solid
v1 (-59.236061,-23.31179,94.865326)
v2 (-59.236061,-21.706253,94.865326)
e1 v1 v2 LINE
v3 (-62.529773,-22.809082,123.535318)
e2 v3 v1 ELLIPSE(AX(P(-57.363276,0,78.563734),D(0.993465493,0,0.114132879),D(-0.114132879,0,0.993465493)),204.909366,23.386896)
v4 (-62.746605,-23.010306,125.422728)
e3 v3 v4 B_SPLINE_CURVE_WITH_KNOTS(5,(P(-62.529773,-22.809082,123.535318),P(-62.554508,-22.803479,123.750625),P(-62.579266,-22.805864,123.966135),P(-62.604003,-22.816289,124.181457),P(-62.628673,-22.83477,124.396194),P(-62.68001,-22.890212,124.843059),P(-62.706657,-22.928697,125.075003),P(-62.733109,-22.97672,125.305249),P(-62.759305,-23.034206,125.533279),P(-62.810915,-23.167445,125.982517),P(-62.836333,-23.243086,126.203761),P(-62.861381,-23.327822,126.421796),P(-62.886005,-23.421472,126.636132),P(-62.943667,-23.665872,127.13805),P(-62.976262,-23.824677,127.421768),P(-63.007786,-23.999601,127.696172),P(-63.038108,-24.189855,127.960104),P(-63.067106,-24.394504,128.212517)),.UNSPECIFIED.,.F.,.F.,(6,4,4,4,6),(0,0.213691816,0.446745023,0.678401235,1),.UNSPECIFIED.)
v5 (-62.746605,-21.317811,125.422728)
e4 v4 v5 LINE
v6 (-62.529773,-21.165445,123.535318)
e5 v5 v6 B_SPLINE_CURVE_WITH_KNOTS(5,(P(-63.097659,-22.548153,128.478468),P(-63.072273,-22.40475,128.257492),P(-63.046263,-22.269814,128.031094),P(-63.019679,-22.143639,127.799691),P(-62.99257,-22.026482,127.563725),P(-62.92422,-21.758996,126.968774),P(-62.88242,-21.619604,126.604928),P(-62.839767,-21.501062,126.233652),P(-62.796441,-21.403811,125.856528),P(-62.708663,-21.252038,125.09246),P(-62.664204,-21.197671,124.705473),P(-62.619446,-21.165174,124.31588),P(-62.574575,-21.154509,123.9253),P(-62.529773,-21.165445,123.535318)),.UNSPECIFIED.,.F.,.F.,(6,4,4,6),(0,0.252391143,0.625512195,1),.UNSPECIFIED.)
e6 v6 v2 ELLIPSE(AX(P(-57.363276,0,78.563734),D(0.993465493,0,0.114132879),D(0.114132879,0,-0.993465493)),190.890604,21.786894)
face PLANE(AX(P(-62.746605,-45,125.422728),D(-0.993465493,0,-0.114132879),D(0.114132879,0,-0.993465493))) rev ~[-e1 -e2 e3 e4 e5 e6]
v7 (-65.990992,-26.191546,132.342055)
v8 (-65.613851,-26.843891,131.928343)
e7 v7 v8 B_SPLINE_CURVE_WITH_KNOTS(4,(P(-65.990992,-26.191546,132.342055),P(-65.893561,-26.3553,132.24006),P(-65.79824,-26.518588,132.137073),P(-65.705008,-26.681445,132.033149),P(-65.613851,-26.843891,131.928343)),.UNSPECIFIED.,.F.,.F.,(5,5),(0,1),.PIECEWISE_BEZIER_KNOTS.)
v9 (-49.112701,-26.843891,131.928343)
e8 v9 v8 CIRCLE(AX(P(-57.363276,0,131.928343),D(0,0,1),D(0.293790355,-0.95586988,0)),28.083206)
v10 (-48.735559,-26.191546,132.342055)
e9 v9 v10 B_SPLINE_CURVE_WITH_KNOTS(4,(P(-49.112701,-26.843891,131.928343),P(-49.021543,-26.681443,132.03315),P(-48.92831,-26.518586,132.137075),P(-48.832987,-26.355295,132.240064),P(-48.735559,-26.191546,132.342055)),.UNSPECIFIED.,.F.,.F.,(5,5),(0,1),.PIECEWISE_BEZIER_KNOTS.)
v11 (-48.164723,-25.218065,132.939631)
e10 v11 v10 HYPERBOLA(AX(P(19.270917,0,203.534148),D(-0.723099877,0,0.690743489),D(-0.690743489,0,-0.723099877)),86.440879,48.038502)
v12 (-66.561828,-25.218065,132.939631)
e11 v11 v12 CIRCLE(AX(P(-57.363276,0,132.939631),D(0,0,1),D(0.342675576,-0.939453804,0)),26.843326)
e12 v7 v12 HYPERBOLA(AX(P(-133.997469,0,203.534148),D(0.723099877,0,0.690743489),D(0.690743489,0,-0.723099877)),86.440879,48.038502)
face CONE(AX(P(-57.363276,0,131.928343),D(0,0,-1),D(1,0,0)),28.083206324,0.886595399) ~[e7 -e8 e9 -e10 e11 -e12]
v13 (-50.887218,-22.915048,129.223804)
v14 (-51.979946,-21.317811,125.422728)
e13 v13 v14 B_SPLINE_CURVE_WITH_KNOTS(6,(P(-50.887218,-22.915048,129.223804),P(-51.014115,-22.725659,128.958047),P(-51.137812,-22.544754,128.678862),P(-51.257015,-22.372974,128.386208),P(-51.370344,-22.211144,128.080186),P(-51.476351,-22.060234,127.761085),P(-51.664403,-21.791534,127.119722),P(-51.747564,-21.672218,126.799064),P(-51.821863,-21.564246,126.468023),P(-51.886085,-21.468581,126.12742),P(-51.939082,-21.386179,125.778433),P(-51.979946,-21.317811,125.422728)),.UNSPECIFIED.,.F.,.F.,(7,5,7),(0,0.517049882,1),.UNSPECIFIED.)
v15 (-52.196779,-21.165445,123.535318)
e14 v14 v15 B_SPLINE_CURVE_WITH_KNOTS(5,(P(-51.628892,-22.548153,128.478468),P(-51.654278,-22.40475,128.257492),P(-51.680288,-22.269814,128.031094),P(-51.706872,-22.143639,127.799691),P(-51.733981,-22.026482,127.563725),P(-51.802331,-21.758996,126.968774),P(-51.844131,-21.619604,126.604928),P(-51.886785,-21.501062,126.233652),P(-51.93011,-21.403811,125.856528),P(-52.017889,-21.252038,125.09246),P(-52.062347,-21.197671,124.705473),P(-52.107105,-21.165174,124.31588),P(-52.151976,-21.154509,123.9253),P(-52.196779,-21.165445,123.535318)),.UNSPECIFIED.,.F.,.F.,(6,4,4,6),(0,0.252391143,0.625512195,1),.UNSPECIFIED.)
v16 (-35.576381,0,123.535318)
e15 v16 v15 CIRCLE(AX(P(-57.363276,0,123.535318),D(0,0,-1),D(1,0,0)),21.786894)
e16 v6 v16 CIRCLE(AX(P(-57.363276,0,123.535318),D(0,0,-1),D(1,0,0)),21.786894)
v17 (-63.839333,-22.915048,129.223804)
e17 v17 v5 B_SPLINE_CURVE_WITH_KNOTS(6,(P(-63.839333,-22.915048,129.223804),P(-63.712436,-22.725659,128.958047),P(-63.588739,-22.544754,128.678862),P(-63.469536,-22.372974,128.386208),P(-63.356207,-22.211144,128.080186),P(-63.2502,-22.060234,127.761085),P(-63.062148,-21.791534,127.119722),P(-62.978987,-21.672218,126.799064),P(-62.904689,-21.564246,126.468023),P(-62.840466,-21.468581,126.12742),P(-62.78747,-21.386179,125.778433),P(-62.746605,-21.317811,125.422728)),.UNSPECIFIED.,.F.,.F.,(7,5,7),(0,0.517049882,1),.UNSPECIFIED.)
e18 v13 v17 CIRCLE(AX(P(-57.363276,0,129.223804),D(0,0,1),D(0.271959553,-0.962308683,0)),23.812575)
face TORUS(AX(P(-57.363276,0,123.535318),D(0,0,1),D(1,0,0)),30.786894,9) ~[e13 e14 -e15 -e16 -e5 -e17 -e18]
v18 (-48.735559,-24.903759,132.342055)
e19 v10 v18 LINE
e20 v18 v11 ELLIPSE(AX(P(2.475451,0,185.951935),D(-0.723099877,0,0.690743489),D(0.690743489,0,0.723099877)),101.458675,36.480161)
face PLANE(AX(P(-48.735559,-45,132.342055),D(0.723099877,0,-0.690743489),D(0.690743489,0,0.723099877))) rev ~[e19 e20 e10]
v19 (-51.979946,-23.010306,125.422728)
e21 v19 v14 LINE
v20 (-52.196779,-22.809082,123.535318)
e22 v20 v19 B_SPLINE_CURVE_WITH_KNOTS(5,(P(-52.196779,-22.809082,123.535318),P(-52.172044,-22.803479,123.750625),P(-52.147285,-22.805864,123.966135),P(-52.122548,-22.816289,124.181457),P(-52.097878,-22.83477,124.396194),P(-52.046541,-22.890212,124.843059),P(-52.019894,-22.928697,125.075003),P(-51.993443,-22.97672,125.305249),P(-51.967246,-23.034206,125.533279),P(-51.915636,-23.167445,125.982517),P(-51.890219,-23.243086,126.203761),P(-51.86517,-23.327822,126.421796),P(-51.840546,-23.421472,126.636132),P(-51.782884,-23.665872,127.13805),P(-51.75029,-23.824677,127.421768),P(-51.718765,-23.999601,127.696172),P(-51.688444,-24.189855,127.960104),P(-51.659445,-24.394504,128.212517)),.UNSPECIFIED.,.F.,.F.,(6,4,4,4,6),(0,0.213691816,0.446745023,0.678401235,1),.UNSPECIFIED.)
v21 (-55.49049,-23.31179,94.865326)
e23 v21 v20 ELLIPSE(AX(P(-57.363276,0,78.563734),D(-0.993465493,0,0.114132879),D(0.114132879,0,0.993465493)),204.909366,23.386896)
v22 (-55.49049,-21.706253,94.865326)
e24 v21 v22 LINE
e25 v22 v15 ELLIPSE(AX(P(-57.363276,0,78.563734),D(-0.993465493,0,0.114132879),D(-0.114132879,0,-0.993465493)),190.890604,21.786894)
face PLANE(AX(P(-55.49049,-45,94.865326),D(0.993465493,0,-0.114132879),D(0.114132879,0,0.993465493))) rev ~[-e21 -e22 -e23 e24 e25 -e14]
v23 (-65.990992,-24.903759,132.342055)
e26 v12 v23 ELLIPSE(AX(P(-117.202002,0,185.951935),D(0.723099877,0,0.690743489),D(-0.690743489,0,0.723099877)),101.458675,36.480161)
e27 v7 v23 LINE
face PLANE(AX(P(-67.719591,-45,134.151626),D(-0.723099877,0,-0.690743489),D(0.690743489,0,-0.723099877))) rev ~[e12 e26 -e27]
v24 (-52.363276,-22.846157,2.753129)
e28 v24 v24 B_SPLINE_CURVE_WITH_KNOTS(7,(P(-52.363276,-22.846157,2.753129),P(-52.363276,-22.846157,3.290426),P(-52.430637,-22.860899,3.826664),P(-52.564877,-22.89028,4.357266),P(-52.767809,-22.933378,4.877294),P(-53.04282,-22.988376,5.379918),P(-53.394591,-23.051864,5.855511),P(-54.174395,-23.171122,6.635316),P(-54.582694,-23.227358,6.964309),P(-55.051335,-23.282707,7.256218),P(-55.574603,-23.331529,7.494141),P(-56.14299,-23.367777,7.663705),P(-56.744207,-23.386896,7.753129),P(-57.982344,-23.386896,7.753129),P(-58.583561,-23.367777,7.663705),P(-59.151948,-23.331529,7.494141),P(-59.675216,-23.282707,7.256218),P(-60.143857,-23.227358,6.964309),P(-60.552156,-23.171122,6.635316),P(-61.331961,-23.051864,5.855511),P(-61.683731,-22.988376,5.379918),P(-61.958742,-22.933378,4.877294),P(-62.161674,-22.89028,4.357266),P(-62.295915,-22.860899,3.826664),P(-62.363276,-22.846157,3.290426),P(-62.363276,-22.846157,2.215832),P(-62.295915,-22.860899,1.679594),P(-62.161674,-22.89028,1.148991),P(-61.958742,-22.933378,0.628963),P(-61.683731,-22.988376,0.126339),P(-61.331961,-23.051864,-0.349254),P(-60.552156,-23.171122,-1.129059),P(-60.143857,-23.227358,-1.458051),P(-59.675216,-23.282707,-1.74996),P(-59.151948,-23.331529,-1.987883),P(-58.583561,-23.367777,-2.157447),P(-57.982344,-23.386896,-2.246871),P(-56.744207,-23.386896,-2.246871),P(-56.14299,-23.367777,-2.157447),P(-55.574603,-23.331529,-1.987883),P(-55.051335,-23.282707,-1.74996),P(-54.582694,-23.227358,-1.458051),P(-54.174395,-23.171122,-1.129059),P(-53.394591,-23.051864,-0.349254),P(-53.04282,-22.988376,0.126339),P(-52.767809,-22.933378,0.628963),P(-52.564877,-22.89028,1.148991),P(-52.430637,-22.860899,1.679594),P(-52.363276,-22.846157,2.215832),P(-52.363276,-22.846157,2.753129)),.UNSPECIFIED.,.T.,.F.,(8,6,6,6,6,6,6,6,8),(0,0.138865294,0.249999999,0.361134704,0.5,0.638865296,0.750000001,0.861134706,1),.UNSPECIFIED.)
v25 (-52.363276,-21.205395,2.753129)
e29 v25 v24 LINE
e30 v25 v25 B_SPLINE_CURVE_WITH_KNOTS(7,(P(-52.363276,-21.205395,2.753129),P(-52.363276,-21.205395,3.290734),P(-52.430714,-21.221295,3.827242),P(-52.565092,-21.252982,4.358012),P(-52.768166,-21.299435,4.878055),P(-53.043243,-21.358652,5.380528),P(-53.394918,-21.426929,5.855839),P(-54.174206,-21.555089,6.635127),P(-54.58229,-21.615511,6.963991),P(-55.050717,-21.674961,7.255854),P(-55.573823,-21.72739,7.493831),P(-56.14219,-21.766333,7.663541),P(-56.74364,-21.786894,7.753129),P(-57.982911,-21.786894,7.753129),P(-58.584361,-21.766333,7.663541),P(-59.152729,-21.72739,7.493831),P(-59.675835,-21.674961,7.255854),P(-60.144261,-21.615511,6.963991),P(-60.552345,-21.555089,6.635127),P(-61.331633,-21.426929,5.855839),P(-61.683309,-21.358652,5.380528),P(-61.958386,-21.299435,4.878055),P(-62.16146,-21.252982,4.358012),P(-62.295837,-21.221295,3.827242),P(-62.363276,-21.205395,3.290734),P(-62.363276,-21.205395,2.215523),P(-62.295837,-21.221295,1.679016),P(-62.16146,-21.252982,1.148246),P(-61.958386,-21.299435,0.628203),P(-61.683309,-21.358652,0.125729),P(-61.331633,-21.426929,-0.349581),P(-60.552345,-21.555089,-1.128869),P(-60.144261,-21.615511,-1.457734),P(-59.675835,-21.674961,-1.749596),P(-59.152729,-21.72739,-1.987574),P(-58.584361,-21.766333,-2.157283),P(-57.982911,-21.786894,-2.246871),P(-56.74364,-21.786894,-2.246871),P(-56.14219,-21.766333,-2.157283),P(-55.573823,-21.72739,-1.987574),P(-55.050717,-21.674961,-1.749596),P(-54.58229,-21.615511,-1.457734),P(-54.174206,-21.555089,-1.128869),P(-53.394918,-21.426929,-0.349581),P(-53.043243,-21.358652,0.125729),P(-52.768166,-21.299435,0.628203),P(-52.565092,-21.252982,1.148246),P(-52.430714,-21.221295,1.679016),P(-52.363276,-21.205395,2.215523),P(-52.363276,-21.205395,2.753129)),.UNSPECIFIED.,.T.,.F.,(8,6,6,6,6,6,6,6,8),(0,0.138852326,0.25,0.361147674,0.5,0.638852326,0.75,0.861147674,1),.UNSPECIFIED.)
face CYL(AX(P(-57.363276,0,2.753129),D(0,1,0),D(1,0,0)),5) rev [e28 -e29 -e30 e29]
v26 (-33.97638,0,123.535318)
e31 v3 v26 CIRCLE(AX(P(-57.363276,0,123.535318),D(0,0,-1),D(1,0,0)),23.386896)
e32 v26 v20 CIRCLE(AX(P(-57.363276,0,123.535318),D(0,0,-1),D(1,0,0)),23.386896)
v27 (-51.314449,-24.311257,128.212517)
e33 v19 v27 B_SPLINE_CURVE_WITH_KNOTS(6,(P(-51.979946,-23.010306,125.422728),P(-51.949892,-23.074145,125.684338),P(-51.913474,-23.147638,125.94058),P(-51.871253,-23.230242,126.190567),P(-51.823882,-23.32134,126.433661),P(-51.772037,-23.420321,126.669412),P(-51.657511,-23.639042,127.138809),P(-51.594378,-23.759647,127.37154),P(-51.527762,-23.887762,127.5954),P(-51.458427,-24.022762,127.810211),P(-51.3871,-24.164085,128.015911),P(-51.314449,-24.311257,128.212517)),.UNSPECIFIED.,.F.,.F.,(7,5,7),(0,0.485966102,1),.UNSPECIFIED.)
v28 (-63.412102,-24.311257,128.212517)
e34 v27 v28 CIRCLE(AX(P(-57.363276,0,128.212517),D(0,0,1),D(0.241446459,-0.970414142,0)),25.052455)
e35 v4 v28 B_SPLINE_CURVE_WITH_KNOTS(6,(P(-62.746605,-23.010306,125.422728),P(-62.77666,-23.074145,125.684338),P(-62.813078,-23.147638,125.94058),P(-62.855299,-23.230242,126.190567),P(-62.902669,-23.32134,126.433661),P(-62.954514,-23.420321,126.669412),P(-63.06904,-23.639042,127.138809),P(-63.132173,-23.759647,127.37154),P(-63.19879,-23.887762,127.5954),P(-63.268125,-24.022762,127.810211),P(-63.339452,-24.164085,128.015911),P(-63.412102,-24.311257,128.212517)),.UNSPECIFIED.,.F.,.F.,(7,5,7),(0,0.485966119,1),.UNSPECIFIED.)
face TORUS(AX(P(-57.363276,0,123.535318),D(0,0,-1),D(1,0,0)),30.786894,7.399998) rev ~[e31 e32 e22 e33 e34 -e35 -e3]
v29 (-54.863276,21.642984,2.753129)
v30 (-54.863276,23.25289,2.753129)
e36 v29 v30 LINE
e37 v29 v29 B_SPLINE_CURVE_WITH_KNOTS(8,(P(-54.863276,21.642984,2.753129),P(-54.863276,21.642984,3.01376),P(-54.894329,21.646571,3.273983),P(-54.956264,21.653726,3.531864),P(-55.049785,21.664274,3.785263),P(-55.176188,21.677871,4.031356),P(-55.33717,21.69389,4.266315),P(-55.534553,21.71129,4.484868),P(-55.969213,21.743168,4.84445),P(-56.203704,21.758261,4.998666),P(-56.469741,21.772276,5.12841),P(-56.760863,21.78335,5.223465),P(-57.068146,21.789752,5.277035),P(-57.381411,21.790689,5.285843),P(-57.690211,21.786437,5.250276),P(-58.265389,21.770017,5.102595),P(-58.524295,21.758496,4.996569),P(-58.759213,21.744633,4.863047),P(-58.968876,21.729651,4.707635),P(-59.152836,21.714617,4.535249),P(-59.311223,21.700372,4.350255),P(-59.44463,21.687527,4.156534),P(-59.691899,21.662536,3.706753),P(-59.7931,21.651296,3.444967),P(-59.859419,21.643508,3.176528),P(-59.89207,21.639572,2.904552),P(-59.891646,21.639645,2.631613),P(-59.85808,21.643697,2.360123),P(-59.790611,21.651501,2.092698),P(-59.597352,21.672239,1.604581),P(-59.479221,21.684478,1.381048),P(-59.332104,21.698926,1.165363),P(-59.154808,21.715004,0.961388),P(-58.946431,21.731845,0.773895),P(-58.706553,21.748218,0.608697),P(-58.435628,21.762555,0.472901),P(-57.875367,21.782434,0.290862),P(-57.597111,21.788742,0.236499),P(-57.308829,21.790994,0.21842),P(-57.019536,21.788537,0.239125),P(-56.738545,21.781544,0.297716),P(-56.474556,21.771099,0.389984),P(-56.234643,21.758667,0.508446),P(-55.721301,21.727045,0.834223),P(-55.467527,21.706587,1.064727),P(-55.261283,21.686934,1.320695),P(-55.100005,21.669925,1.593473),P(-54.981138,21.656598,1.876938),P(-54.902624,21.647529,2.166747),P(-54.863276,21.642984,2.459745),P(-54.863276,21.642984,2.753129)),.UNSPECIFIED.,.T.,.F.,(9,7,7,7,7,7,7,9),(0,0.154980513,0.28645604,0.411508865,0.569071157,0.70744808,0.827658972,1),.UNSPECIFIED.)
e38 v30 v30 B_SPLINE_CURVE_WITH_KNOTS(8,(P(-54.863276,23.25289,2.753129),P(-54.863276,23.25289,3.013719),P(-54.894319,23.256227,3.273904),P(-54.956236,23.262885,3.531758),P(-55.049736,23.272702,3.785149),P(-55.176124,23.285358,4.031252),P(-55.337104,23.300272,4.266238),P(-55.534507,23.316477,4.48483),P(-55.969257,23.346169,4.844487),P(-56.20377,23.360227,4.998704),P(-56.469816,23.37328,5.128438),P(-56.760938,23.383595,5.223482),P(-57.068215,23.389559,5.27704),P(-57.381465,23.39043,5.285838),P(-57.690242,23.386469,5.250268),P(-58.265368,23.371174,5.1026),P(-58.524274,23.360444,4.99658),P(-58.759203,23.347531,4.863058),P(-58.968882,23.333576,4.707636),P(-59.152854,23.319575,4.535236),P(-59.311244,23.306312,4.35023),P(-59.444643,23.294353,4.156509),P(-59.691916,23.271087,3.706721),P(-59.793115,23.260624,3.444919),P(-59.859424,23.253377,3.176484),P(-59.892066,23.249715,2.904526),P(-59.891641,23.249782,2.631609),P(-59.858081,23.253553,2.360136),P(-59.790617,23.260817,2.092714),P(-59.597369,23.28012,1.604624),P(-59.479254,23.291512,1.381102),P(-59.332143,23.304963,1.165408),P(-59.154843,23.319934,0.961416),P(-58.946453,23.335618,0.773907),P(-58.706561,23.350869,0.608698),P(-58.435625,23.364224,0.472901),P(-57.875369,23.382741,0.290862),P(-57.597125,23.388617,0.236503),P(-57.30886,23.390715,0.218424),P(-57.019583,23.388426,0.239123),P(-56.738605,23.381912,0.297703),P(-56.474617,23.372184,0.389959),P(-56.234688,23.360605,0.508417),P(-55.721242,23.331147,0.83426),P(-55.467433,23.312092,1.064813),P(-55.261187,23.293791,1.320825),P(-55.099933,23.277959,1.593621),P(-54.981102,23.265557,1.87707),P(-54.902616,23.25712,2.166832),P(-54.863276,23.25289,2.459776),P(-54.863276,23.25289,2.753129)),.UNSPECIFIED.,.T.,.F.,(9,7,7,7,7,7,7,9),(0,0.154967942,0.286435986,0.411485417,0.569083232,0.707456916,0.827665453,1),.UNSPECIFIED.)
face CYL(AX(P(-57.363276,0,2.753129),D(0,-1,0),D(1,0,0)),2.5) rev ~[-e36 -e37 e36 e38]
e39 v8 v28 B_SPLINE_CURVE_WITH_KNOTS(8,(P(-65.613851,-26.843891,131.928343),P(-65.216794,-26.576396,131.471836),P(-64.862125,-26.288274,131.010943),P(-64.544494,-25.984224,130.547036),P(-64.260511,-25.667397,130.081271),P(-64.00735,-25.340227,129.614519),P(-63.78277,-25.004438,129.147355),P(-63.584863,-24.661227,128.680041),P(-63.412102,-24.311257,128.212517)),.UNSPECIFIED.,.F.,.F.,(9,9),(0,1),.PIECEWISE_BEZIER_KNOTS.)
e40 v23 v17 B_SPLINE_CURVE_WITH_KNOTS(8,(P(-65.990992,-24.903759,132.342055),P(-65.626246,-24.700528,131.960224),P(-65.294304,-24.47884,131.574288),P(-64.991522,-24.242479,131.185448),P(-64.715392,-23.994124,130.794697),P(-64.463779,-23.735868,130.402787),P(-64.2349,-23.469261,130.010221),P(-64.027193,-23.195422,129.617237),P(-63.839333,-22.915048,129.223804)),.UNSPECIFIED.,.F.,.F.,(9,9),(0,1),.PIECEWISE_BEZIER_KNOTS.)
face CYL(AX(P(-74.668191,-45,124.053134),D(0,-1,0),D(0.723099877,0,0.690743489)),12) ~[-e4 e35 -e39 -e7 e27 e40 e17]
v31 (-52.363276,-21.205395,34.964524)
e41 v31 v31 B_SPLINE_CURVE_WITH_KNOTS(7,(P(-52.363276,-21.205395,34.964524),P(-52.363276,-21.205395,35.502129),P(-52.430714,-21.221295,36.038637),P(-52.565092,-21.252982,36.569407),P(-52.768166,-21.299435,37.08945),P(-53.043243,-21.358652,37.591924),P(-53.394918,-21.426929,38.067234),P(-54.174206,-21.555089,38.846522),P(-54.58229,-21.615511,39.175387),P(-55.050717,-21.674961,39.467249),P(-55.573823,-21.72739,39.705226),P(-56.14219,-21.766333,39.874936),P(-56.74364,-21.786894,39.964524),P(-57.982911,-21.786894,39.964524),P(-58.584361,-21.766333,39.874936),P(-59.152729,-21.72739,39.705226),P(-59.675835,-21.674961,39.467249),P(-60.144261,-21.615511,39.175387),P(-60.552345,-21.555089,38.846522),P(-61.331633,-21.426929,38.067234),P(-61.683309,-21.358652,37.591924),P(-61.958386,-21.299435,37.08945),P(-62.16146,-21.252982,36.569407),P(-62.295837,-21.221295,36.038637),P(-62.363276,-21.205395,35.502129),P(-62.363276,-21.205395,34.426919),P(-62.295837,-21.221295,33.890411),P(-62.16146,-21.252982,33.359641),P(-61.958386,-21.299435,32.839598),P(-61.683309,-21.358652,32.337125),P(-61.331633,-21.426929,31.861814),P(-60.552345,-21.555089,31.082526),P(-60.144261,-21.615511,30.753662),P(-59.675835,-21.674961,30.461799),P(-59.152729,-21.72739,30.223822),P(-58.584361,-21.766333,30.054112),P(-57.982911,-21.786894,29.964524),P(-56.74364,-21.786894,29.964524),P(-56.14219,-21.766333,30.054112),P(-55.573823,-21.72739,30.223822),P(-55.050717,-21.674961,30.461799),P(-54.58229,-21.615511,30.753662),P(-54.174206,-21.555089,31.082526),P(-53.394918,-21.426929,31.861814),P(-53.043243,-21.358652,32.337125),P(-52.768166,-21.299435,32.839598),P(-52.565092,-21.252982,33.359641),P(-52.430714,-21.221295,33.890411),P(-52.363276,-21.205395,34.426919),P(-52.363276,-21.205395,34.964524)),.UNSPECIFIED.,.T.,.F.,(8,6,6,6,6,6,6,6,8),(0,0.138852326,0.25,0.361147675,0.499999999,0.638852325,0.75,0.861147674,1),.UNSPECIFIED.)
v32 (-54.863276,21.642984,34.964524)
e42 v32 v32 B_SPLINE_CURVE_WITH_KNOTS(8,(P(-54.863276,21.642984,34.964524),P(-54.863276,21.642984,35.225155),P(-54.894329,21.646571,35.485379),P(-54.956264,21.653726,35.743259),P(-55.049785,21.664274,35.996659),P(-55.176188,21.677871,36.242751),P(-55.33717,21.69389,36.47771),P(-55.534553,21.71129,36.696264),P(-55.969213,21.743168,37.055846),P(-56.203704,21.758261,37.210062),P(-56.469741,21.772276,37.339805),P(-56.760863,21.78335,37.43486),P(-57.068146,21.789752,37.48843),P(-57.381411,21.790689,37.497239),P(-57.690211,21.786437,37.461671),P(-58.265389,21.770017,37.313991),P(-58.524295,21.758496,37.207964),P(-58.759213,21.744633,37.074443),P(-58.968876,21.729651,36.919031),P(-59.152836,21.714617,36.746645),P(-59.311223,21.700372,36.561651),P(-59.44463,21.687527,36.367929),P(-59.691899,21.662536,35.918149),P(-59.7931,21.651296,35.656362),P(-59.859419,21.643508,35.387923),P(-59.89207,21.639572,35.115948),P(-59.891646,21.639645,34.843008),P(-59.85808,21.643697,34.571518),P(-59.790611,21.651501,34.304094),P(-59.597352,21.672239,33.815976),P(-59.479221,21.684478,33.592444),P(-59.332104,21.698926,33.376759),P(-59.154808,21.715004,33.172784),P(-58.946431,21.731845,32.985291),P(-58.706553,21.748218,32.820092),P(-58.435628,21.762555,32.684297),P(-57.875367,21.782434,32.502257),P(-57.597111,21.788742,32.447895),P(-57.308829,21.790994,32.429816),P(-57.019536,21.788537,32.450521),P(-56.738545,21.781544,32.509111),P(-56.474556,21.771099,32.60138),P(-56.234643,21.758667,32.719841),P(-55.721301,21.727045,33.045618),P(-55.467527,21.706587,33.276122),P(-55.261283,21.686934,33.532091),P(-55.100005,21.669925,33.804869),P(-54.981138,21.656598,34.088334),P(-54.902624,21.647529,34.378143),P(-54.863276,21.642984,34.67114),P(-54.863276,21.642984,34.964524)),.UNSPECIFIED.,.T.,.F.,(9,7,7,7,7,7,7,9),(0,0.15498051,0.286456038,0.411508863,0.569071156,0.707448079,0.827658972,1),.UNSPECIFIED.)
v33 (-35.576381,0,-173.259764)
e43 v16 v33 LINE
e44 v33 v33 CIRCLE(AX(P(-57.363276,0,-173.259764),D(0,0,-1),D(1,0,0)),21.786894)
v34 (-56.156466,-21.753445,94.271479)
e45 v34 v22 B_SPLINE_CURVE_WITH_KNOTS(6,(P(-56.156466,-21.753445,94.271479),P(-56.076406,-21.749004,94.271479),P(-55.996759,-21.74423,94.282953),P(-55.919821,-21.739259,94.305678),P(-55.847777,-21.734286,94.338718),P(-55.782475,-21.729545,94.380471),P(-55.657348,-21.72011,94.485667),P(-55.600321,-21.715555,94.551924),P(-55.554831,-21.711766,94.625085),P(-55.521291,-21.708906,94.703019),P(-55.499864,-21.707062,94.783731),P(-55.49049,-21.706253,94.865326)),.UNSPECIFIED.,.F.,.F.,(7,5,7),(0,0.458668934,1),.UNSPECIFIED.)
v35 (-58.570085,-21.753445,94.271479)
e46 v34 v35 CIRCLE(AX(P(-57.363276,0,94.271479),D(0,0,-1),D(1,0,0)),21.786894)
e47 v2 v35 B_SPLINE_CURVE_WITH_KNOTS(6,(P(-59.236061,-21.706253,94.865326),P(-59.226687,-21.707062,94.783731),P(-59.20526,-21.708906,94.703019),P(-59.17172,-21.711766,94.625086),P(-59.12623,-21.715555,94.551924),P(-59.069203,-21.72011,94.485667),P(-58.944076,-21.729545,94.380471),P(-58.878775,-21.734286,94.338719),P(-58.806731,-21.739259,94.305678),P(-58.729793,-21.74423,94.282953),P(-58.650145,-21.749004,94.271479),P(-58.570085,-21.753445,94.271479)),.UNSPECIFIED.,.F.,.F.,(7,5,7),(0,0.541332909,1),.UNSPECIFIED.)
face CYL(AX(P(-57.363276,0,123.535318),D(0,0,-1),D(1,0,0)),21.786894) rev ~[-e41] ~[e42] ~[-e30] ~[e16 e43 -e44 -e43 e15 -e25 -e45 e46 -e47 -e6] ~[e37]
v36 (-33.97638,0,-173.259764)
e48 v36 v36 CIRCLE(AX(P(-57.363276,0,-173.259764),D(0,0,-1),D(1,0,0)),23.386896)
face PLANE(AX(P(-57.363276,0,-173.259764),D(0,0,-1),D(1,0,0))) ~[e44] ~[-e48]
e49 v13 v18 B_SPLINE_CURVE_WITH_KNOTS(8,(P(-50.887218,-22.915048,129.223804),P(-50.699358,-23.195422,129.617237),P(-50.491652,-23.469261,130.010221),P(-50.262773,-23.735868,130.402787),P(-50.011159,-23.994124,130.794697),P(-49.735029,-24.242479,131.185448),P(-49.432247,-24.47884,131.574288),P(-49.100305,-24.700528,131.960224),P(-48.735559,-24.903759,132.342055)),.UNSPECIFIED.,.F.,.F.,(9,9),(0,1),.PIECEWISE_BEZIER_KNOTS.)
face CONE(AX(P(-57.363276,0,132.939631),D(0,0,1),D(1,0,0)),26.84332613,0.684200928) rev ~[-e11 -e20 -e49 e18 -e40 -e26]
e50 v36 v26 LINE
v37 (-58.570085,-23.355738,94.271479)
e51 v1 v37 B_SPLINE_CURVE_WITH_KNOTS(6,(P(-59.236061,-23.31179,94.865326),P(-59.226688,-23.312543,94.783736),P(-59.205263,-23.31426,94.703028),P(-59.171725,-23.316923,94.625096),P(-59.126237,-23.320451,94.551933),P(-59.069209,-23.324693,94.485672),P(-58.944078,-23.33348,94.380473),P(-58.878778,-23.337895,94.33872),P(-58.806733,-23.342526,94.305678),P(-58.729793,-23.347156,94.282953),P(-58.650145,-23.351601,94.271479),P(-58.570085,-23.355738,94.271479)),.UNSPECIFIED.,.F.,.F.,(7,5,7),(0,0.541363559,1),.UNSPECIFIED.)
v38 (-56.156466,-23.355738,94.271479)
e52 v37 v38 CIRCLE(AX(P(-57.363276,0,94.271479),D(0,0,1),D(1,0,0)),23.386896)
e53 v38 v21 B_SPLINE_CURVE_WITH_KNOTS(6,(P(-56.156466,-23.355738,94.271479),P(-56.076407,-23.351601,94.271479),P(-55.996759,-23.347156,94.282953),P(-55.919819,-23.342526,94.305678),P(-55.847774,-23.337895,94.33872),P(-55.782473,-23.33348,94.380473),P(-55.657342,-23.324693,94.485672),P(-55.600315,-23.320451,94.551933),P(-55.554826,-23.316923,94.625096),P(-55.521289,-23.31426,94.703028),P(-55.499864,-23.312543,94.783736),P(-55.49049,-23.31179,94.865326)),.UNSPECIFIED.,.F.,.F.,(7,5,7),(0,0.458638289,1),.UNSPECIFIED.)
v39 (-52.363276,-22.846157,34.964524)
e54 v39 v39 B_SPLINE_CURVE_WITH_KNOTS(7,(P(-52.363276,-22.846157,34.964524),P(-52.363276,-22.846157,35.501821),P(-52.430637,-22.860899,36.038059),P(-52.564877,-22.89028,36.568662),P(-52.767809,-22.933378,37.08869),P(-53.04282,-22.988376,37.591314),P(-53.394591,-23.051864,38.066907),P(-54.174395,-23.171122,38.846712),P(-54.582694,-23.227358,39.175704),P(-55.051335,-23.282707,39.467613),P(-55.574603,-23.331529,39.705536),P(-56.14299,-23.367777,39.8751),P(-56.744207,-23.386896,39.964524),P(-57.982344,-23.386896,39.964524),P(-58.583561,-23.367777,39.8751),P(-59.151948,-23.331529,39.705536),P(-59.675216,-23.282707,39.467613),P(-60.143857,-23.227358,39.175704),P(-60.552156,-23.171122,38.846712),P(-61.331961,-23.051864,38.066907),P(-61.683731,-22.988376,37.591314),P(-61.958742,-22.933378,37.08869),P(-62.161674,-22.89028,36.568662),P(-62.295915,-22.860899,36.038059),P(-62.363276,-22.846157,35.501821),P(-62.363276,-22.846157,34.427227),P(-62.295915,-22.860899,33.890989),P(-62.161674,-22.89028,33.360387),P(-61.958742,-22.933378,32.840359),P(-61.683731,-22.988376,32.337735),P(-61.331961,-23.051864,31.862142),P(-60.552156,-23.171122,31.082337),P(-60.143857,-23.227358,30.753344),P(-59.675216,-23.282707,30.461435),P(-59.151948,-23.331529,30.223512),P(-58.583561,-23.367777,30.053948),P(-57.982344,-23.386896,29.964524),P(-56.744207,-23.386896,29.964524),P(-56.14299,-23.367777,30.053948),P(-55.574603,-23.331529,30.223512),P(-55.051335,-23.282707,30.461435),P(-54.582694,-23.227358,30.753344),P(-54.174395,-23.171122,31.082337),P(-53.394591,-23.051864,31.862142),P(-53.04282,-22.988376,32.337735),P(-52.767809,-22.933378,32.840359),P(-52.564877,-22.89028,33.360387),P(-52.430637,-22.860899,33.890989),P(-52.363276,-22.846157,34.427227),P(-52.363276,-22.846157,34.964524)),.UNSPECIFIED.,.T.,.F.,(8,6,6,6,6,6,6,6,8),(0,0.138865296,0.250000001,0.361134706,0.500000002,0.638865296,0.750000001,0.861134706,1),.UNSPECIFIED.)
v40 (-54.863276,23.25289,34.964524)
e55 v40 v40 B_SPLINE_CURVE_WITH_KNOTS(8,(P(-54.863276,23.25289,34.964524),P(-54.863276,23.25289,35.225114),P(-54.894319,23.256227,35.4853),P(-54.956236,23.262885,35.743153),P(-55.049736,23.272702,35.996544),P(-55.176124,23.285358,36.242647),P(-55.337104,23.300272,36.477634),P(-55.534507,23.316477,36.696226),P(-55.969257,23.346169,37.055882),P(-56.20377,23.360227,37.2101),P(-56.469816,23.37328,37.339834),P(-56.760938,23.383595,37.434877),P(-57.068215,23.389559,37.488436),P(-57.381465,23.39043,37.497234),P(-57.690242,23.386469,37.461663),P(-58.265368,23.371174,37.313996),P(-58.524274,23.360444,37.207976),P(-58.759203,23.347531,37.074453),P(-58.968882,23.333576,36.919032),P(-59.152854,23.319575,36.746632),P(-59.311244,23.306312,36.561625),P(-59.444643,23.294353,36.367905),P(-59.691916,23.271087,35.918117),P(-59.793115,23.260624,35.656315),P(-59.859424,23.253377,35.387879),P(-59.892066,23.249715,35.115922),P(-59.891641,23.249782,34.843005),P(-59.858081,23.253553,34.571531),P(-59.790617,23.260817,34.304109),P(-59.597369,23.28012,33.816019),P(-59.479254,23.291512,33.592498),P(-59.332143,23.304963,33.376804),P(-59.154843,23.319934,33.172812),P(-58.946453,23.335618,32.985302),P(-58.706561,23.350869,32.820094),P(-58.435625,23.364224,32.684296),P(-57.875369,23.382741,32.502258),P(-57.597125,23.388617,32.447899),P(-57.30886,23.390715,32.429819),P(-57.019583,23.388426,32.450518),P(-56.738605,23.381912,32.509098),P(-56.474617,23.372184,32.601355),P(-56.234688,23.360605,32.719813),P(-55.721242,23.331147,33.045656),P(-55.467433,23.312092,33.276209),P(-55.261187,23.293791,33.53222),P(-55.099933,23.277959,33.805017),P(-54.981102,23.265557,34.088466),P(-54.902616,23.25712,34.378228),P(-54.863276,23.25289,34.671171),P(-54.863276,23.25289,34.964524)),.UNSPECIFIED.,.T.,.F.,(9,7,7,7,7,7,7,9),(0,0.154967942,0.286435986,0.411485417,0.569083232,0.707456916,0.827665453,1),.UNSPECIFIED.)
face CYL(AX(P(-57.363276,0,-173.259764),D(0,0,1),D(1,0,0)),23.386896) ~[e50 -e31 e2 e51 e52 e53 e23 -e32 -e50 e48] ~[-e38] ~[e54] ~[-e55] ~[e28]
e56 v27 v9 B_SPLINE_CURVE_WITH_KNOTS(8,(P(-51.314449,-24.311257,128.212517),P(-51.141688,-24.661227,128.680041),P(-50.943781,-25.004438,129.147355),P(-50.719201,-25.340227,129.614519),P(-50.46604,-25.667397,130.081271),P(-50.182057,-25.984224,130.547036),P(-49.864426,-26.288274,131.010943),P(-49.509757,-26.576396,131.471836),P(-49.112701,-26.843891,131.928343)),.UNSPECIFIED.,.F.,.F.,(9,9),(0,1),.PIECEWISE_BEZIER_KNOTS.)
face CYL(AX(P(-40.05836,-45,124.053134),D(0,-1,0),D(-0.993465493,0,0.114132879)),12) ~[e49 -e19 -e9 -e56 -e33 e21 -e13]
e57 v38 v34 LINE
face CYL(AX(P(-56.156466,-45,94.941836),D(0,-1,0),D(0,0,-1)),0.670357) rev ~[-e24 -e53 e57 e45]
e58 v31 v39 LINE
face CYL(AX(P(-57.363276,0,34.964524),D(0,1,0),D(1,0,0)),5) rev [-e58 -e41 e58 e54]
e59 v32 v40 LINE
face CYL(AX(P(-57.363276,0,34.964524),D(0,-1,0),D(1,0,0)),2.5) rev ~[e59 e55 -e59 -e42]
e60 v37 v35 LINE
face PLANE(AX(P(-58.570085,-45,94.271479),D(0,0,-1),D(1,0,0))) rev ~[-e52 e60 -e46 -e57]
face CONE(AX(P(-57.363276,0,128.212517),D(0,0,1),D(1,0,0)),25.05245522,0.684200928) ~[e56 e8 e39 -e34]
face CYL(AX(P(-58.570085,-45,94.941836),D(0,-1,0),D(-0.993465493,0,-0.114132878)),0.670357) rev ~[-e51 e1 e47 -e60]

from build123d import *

# Parameters (mm, degrees)
F1_DEPTH      = 45
F3_DEPTH      = 47.5
F0_R          = 5
F0_R_2        = 2.5
F4_DEPTH      = 26.8448911594
F4_DEPTH_BACK = 10.2
F5_DEPTH      = 26.8448911594
F5_DEPTH_BACK = 17.3
F6_DEPTH      = 28.0842064241
F6_DEPTH_BACK = 25
F7_DEPTH      = 40.6
F7_DEPTH_BACK = 127.9
F8_DEPTH      = 26.8448911594
F8_DEPTH_BACK = 25


with BuildPart() as f1:
    # F0 (on Front) → F1 (new body)
    with BuildSketch(Plane.XZ):
        with BuildLine():
            ThreePointArc((-56.1564664539, 94.2714790144), (-55.7103223471, 94.4415023302), (-55.4904903386, 94.8653258548))
            Line((-55.4904903386, 94.8653258548), (-51.9799463815, 125.4227281117))
            ThreePointArc((-51.9799463815, 125.4227281117), (-50.9232927128, 129.1475665325), (-48.7355589867, 132.3420554399))
            Line((-48.7355589867, 132.3420554399), (-47.0069608027, 134.1516260741))
            Line((-47.0069608027, 134.1516260741), (-67.7195905025, 134.1516260741))
            Line((-67.7195905025, 134.1516260741), (-65.9909923185, 132.3420554399))
            ThreePointArc((-65.9909923185, 132.3420554399), (-63.8032585923, 129.1475665325), (-62.7466049237, 125.4227281117))
            Line((-62.7466049237, 125.4227281117), (-59.2360609666, 94.8653258548))
            ThreePointArc((-59.2360609666, 94.8653258548), (-59.0162289581, 94.4415023302), (-58.5700848513, 94.2714790144))
            Line((-58.5700848513, 94.2714790144), (-56.1564664539, 94.2714790144))
        make_face()
    extrude(amount=F1_DEPTH)

    # F0 (on Front) → F2 (revolve)
    with BuildSketch(Plane.XZ):
        with BuildLine():
            ThreePointArc((-33.5507006262, 129.2238042997), (-35.0548504452, 126.5545175576), (-35.5763814669, 123.535318362))
            Line((-35.5763814669, 123.535318362), (-35.5763814669, -173.2597642372))
            Line((-35.5763814669, -173.2597642372), (-33.9763798769, -173.2597642372))
            Line((-33.9763798769, -173.2597642372), (-33.9763798769, 123.535318362))
            ThreePointArc((-33.9763798769, 123.535318362), (-33.5475655735, 126.0177705006), (-32.3108204324, 128.2125169058))
            Line((-32.3108204324, 128.2125169058), (-29.2800693285, 131.9283431772))
            Line((-29.2800693285, 131.9283431772), (-30.5199495223, 132.9396305711))
            Line((-30.5199495223, 132.9396305711), (-33.5507006262, 129.2238042997))
        make_face()
    revolve(axis=Axis((-57.3632756526, 0, 129.4338501955), (0, 0, -1)))

    # F3 (cut): a face of the model
    f3_faces = [f1.faces().sort_by_distance(p)[0] for p in [
        (-57.3632756526, -45, 118.8376306589),
    ]]
    extrude(f3_faces, amount=-F3_DEPTH, mode=Mode.SUBTRACT)

    # F0 (on Front) → F4 (cut, two sides)
    with BuildSketch(Plane.XZ) as f4_sk:
        with Locations((-57.3632756526, 34.9645242095)):
            Circle(F0_R)
        with Locations((-57.3632756526, 34.9645242095)):
            Circle(F0_R_2, mode=Mode.SUBTRACT)
    extrude(amount=F4_DEPTH, mode=Mode.SUBTRACT)
    extrude(f4_sk.sketch, amount=-F4_DEPTH_BACK, mode=Mode.SUBTRACT)

    # F0 (on Front) → F5 (cut, two sides)
    with BuildSketch(Plane.XZ) as f5_sk:
        with Locations((-57.3632756526, 2.7531287633)):
            Circle(F0_R)
        with Locations((-57.3632756526, 2.7531287633)):
            Circle(F0_R_2, mode=Mode.SUBTRACT)
    extrude(amount=F5_DEPTH, mode=Mode.SUBTRACT)
    extrude(f5_sk.sketch, amount=-F5_DEPTH_BACK, mode=Mode.SUBTRACT)

    # F0 (on Front) → F6 (cut, two sides)
    with BuildSketch(Plane.XZ) as f6_sk:
        with Locations((-57.3632756526, 34.9645242095)):
            Circle(F0_R_2)
    extrude(amount=-F6_DEPTH, mode=Mode.SUBTRACT)
    extrude(f6_sk.sketch, amount=F6_DEPTH_BACK, mode=Mode.SUBTRACT)

    # F0 (on Front) → F7 (cut, two sides)
    with BuildSketch(Plane.XZ) as f7_sk:
        with Locations((-57.3632756526, 2.7531287633)):
            Circle(F0_R_2)
    extrude(amount=F7_DEPTH, mode=Mode.SUBTRACT)
    extrude(f7_sk.sketch, amount=-F7_DEPTH_BACK, mode=Mode.SUBTRACT)

    # F0 (on Front) → F8 (cut, two sides)
    with BuildSketch(Plane.XZ) as f8_sk:
        with Locations((-57.3632756526, 34.9645242095)):
            Circle(F0_R_2)
    extrude(amount=F8_DEPTH, mode=Mode.SUBTRACT)
    extrude(f8_sk.sketch, amount=-F8_DEPTH_BACK, mode=Mode.SUBTRACT)


solid = f1.part
